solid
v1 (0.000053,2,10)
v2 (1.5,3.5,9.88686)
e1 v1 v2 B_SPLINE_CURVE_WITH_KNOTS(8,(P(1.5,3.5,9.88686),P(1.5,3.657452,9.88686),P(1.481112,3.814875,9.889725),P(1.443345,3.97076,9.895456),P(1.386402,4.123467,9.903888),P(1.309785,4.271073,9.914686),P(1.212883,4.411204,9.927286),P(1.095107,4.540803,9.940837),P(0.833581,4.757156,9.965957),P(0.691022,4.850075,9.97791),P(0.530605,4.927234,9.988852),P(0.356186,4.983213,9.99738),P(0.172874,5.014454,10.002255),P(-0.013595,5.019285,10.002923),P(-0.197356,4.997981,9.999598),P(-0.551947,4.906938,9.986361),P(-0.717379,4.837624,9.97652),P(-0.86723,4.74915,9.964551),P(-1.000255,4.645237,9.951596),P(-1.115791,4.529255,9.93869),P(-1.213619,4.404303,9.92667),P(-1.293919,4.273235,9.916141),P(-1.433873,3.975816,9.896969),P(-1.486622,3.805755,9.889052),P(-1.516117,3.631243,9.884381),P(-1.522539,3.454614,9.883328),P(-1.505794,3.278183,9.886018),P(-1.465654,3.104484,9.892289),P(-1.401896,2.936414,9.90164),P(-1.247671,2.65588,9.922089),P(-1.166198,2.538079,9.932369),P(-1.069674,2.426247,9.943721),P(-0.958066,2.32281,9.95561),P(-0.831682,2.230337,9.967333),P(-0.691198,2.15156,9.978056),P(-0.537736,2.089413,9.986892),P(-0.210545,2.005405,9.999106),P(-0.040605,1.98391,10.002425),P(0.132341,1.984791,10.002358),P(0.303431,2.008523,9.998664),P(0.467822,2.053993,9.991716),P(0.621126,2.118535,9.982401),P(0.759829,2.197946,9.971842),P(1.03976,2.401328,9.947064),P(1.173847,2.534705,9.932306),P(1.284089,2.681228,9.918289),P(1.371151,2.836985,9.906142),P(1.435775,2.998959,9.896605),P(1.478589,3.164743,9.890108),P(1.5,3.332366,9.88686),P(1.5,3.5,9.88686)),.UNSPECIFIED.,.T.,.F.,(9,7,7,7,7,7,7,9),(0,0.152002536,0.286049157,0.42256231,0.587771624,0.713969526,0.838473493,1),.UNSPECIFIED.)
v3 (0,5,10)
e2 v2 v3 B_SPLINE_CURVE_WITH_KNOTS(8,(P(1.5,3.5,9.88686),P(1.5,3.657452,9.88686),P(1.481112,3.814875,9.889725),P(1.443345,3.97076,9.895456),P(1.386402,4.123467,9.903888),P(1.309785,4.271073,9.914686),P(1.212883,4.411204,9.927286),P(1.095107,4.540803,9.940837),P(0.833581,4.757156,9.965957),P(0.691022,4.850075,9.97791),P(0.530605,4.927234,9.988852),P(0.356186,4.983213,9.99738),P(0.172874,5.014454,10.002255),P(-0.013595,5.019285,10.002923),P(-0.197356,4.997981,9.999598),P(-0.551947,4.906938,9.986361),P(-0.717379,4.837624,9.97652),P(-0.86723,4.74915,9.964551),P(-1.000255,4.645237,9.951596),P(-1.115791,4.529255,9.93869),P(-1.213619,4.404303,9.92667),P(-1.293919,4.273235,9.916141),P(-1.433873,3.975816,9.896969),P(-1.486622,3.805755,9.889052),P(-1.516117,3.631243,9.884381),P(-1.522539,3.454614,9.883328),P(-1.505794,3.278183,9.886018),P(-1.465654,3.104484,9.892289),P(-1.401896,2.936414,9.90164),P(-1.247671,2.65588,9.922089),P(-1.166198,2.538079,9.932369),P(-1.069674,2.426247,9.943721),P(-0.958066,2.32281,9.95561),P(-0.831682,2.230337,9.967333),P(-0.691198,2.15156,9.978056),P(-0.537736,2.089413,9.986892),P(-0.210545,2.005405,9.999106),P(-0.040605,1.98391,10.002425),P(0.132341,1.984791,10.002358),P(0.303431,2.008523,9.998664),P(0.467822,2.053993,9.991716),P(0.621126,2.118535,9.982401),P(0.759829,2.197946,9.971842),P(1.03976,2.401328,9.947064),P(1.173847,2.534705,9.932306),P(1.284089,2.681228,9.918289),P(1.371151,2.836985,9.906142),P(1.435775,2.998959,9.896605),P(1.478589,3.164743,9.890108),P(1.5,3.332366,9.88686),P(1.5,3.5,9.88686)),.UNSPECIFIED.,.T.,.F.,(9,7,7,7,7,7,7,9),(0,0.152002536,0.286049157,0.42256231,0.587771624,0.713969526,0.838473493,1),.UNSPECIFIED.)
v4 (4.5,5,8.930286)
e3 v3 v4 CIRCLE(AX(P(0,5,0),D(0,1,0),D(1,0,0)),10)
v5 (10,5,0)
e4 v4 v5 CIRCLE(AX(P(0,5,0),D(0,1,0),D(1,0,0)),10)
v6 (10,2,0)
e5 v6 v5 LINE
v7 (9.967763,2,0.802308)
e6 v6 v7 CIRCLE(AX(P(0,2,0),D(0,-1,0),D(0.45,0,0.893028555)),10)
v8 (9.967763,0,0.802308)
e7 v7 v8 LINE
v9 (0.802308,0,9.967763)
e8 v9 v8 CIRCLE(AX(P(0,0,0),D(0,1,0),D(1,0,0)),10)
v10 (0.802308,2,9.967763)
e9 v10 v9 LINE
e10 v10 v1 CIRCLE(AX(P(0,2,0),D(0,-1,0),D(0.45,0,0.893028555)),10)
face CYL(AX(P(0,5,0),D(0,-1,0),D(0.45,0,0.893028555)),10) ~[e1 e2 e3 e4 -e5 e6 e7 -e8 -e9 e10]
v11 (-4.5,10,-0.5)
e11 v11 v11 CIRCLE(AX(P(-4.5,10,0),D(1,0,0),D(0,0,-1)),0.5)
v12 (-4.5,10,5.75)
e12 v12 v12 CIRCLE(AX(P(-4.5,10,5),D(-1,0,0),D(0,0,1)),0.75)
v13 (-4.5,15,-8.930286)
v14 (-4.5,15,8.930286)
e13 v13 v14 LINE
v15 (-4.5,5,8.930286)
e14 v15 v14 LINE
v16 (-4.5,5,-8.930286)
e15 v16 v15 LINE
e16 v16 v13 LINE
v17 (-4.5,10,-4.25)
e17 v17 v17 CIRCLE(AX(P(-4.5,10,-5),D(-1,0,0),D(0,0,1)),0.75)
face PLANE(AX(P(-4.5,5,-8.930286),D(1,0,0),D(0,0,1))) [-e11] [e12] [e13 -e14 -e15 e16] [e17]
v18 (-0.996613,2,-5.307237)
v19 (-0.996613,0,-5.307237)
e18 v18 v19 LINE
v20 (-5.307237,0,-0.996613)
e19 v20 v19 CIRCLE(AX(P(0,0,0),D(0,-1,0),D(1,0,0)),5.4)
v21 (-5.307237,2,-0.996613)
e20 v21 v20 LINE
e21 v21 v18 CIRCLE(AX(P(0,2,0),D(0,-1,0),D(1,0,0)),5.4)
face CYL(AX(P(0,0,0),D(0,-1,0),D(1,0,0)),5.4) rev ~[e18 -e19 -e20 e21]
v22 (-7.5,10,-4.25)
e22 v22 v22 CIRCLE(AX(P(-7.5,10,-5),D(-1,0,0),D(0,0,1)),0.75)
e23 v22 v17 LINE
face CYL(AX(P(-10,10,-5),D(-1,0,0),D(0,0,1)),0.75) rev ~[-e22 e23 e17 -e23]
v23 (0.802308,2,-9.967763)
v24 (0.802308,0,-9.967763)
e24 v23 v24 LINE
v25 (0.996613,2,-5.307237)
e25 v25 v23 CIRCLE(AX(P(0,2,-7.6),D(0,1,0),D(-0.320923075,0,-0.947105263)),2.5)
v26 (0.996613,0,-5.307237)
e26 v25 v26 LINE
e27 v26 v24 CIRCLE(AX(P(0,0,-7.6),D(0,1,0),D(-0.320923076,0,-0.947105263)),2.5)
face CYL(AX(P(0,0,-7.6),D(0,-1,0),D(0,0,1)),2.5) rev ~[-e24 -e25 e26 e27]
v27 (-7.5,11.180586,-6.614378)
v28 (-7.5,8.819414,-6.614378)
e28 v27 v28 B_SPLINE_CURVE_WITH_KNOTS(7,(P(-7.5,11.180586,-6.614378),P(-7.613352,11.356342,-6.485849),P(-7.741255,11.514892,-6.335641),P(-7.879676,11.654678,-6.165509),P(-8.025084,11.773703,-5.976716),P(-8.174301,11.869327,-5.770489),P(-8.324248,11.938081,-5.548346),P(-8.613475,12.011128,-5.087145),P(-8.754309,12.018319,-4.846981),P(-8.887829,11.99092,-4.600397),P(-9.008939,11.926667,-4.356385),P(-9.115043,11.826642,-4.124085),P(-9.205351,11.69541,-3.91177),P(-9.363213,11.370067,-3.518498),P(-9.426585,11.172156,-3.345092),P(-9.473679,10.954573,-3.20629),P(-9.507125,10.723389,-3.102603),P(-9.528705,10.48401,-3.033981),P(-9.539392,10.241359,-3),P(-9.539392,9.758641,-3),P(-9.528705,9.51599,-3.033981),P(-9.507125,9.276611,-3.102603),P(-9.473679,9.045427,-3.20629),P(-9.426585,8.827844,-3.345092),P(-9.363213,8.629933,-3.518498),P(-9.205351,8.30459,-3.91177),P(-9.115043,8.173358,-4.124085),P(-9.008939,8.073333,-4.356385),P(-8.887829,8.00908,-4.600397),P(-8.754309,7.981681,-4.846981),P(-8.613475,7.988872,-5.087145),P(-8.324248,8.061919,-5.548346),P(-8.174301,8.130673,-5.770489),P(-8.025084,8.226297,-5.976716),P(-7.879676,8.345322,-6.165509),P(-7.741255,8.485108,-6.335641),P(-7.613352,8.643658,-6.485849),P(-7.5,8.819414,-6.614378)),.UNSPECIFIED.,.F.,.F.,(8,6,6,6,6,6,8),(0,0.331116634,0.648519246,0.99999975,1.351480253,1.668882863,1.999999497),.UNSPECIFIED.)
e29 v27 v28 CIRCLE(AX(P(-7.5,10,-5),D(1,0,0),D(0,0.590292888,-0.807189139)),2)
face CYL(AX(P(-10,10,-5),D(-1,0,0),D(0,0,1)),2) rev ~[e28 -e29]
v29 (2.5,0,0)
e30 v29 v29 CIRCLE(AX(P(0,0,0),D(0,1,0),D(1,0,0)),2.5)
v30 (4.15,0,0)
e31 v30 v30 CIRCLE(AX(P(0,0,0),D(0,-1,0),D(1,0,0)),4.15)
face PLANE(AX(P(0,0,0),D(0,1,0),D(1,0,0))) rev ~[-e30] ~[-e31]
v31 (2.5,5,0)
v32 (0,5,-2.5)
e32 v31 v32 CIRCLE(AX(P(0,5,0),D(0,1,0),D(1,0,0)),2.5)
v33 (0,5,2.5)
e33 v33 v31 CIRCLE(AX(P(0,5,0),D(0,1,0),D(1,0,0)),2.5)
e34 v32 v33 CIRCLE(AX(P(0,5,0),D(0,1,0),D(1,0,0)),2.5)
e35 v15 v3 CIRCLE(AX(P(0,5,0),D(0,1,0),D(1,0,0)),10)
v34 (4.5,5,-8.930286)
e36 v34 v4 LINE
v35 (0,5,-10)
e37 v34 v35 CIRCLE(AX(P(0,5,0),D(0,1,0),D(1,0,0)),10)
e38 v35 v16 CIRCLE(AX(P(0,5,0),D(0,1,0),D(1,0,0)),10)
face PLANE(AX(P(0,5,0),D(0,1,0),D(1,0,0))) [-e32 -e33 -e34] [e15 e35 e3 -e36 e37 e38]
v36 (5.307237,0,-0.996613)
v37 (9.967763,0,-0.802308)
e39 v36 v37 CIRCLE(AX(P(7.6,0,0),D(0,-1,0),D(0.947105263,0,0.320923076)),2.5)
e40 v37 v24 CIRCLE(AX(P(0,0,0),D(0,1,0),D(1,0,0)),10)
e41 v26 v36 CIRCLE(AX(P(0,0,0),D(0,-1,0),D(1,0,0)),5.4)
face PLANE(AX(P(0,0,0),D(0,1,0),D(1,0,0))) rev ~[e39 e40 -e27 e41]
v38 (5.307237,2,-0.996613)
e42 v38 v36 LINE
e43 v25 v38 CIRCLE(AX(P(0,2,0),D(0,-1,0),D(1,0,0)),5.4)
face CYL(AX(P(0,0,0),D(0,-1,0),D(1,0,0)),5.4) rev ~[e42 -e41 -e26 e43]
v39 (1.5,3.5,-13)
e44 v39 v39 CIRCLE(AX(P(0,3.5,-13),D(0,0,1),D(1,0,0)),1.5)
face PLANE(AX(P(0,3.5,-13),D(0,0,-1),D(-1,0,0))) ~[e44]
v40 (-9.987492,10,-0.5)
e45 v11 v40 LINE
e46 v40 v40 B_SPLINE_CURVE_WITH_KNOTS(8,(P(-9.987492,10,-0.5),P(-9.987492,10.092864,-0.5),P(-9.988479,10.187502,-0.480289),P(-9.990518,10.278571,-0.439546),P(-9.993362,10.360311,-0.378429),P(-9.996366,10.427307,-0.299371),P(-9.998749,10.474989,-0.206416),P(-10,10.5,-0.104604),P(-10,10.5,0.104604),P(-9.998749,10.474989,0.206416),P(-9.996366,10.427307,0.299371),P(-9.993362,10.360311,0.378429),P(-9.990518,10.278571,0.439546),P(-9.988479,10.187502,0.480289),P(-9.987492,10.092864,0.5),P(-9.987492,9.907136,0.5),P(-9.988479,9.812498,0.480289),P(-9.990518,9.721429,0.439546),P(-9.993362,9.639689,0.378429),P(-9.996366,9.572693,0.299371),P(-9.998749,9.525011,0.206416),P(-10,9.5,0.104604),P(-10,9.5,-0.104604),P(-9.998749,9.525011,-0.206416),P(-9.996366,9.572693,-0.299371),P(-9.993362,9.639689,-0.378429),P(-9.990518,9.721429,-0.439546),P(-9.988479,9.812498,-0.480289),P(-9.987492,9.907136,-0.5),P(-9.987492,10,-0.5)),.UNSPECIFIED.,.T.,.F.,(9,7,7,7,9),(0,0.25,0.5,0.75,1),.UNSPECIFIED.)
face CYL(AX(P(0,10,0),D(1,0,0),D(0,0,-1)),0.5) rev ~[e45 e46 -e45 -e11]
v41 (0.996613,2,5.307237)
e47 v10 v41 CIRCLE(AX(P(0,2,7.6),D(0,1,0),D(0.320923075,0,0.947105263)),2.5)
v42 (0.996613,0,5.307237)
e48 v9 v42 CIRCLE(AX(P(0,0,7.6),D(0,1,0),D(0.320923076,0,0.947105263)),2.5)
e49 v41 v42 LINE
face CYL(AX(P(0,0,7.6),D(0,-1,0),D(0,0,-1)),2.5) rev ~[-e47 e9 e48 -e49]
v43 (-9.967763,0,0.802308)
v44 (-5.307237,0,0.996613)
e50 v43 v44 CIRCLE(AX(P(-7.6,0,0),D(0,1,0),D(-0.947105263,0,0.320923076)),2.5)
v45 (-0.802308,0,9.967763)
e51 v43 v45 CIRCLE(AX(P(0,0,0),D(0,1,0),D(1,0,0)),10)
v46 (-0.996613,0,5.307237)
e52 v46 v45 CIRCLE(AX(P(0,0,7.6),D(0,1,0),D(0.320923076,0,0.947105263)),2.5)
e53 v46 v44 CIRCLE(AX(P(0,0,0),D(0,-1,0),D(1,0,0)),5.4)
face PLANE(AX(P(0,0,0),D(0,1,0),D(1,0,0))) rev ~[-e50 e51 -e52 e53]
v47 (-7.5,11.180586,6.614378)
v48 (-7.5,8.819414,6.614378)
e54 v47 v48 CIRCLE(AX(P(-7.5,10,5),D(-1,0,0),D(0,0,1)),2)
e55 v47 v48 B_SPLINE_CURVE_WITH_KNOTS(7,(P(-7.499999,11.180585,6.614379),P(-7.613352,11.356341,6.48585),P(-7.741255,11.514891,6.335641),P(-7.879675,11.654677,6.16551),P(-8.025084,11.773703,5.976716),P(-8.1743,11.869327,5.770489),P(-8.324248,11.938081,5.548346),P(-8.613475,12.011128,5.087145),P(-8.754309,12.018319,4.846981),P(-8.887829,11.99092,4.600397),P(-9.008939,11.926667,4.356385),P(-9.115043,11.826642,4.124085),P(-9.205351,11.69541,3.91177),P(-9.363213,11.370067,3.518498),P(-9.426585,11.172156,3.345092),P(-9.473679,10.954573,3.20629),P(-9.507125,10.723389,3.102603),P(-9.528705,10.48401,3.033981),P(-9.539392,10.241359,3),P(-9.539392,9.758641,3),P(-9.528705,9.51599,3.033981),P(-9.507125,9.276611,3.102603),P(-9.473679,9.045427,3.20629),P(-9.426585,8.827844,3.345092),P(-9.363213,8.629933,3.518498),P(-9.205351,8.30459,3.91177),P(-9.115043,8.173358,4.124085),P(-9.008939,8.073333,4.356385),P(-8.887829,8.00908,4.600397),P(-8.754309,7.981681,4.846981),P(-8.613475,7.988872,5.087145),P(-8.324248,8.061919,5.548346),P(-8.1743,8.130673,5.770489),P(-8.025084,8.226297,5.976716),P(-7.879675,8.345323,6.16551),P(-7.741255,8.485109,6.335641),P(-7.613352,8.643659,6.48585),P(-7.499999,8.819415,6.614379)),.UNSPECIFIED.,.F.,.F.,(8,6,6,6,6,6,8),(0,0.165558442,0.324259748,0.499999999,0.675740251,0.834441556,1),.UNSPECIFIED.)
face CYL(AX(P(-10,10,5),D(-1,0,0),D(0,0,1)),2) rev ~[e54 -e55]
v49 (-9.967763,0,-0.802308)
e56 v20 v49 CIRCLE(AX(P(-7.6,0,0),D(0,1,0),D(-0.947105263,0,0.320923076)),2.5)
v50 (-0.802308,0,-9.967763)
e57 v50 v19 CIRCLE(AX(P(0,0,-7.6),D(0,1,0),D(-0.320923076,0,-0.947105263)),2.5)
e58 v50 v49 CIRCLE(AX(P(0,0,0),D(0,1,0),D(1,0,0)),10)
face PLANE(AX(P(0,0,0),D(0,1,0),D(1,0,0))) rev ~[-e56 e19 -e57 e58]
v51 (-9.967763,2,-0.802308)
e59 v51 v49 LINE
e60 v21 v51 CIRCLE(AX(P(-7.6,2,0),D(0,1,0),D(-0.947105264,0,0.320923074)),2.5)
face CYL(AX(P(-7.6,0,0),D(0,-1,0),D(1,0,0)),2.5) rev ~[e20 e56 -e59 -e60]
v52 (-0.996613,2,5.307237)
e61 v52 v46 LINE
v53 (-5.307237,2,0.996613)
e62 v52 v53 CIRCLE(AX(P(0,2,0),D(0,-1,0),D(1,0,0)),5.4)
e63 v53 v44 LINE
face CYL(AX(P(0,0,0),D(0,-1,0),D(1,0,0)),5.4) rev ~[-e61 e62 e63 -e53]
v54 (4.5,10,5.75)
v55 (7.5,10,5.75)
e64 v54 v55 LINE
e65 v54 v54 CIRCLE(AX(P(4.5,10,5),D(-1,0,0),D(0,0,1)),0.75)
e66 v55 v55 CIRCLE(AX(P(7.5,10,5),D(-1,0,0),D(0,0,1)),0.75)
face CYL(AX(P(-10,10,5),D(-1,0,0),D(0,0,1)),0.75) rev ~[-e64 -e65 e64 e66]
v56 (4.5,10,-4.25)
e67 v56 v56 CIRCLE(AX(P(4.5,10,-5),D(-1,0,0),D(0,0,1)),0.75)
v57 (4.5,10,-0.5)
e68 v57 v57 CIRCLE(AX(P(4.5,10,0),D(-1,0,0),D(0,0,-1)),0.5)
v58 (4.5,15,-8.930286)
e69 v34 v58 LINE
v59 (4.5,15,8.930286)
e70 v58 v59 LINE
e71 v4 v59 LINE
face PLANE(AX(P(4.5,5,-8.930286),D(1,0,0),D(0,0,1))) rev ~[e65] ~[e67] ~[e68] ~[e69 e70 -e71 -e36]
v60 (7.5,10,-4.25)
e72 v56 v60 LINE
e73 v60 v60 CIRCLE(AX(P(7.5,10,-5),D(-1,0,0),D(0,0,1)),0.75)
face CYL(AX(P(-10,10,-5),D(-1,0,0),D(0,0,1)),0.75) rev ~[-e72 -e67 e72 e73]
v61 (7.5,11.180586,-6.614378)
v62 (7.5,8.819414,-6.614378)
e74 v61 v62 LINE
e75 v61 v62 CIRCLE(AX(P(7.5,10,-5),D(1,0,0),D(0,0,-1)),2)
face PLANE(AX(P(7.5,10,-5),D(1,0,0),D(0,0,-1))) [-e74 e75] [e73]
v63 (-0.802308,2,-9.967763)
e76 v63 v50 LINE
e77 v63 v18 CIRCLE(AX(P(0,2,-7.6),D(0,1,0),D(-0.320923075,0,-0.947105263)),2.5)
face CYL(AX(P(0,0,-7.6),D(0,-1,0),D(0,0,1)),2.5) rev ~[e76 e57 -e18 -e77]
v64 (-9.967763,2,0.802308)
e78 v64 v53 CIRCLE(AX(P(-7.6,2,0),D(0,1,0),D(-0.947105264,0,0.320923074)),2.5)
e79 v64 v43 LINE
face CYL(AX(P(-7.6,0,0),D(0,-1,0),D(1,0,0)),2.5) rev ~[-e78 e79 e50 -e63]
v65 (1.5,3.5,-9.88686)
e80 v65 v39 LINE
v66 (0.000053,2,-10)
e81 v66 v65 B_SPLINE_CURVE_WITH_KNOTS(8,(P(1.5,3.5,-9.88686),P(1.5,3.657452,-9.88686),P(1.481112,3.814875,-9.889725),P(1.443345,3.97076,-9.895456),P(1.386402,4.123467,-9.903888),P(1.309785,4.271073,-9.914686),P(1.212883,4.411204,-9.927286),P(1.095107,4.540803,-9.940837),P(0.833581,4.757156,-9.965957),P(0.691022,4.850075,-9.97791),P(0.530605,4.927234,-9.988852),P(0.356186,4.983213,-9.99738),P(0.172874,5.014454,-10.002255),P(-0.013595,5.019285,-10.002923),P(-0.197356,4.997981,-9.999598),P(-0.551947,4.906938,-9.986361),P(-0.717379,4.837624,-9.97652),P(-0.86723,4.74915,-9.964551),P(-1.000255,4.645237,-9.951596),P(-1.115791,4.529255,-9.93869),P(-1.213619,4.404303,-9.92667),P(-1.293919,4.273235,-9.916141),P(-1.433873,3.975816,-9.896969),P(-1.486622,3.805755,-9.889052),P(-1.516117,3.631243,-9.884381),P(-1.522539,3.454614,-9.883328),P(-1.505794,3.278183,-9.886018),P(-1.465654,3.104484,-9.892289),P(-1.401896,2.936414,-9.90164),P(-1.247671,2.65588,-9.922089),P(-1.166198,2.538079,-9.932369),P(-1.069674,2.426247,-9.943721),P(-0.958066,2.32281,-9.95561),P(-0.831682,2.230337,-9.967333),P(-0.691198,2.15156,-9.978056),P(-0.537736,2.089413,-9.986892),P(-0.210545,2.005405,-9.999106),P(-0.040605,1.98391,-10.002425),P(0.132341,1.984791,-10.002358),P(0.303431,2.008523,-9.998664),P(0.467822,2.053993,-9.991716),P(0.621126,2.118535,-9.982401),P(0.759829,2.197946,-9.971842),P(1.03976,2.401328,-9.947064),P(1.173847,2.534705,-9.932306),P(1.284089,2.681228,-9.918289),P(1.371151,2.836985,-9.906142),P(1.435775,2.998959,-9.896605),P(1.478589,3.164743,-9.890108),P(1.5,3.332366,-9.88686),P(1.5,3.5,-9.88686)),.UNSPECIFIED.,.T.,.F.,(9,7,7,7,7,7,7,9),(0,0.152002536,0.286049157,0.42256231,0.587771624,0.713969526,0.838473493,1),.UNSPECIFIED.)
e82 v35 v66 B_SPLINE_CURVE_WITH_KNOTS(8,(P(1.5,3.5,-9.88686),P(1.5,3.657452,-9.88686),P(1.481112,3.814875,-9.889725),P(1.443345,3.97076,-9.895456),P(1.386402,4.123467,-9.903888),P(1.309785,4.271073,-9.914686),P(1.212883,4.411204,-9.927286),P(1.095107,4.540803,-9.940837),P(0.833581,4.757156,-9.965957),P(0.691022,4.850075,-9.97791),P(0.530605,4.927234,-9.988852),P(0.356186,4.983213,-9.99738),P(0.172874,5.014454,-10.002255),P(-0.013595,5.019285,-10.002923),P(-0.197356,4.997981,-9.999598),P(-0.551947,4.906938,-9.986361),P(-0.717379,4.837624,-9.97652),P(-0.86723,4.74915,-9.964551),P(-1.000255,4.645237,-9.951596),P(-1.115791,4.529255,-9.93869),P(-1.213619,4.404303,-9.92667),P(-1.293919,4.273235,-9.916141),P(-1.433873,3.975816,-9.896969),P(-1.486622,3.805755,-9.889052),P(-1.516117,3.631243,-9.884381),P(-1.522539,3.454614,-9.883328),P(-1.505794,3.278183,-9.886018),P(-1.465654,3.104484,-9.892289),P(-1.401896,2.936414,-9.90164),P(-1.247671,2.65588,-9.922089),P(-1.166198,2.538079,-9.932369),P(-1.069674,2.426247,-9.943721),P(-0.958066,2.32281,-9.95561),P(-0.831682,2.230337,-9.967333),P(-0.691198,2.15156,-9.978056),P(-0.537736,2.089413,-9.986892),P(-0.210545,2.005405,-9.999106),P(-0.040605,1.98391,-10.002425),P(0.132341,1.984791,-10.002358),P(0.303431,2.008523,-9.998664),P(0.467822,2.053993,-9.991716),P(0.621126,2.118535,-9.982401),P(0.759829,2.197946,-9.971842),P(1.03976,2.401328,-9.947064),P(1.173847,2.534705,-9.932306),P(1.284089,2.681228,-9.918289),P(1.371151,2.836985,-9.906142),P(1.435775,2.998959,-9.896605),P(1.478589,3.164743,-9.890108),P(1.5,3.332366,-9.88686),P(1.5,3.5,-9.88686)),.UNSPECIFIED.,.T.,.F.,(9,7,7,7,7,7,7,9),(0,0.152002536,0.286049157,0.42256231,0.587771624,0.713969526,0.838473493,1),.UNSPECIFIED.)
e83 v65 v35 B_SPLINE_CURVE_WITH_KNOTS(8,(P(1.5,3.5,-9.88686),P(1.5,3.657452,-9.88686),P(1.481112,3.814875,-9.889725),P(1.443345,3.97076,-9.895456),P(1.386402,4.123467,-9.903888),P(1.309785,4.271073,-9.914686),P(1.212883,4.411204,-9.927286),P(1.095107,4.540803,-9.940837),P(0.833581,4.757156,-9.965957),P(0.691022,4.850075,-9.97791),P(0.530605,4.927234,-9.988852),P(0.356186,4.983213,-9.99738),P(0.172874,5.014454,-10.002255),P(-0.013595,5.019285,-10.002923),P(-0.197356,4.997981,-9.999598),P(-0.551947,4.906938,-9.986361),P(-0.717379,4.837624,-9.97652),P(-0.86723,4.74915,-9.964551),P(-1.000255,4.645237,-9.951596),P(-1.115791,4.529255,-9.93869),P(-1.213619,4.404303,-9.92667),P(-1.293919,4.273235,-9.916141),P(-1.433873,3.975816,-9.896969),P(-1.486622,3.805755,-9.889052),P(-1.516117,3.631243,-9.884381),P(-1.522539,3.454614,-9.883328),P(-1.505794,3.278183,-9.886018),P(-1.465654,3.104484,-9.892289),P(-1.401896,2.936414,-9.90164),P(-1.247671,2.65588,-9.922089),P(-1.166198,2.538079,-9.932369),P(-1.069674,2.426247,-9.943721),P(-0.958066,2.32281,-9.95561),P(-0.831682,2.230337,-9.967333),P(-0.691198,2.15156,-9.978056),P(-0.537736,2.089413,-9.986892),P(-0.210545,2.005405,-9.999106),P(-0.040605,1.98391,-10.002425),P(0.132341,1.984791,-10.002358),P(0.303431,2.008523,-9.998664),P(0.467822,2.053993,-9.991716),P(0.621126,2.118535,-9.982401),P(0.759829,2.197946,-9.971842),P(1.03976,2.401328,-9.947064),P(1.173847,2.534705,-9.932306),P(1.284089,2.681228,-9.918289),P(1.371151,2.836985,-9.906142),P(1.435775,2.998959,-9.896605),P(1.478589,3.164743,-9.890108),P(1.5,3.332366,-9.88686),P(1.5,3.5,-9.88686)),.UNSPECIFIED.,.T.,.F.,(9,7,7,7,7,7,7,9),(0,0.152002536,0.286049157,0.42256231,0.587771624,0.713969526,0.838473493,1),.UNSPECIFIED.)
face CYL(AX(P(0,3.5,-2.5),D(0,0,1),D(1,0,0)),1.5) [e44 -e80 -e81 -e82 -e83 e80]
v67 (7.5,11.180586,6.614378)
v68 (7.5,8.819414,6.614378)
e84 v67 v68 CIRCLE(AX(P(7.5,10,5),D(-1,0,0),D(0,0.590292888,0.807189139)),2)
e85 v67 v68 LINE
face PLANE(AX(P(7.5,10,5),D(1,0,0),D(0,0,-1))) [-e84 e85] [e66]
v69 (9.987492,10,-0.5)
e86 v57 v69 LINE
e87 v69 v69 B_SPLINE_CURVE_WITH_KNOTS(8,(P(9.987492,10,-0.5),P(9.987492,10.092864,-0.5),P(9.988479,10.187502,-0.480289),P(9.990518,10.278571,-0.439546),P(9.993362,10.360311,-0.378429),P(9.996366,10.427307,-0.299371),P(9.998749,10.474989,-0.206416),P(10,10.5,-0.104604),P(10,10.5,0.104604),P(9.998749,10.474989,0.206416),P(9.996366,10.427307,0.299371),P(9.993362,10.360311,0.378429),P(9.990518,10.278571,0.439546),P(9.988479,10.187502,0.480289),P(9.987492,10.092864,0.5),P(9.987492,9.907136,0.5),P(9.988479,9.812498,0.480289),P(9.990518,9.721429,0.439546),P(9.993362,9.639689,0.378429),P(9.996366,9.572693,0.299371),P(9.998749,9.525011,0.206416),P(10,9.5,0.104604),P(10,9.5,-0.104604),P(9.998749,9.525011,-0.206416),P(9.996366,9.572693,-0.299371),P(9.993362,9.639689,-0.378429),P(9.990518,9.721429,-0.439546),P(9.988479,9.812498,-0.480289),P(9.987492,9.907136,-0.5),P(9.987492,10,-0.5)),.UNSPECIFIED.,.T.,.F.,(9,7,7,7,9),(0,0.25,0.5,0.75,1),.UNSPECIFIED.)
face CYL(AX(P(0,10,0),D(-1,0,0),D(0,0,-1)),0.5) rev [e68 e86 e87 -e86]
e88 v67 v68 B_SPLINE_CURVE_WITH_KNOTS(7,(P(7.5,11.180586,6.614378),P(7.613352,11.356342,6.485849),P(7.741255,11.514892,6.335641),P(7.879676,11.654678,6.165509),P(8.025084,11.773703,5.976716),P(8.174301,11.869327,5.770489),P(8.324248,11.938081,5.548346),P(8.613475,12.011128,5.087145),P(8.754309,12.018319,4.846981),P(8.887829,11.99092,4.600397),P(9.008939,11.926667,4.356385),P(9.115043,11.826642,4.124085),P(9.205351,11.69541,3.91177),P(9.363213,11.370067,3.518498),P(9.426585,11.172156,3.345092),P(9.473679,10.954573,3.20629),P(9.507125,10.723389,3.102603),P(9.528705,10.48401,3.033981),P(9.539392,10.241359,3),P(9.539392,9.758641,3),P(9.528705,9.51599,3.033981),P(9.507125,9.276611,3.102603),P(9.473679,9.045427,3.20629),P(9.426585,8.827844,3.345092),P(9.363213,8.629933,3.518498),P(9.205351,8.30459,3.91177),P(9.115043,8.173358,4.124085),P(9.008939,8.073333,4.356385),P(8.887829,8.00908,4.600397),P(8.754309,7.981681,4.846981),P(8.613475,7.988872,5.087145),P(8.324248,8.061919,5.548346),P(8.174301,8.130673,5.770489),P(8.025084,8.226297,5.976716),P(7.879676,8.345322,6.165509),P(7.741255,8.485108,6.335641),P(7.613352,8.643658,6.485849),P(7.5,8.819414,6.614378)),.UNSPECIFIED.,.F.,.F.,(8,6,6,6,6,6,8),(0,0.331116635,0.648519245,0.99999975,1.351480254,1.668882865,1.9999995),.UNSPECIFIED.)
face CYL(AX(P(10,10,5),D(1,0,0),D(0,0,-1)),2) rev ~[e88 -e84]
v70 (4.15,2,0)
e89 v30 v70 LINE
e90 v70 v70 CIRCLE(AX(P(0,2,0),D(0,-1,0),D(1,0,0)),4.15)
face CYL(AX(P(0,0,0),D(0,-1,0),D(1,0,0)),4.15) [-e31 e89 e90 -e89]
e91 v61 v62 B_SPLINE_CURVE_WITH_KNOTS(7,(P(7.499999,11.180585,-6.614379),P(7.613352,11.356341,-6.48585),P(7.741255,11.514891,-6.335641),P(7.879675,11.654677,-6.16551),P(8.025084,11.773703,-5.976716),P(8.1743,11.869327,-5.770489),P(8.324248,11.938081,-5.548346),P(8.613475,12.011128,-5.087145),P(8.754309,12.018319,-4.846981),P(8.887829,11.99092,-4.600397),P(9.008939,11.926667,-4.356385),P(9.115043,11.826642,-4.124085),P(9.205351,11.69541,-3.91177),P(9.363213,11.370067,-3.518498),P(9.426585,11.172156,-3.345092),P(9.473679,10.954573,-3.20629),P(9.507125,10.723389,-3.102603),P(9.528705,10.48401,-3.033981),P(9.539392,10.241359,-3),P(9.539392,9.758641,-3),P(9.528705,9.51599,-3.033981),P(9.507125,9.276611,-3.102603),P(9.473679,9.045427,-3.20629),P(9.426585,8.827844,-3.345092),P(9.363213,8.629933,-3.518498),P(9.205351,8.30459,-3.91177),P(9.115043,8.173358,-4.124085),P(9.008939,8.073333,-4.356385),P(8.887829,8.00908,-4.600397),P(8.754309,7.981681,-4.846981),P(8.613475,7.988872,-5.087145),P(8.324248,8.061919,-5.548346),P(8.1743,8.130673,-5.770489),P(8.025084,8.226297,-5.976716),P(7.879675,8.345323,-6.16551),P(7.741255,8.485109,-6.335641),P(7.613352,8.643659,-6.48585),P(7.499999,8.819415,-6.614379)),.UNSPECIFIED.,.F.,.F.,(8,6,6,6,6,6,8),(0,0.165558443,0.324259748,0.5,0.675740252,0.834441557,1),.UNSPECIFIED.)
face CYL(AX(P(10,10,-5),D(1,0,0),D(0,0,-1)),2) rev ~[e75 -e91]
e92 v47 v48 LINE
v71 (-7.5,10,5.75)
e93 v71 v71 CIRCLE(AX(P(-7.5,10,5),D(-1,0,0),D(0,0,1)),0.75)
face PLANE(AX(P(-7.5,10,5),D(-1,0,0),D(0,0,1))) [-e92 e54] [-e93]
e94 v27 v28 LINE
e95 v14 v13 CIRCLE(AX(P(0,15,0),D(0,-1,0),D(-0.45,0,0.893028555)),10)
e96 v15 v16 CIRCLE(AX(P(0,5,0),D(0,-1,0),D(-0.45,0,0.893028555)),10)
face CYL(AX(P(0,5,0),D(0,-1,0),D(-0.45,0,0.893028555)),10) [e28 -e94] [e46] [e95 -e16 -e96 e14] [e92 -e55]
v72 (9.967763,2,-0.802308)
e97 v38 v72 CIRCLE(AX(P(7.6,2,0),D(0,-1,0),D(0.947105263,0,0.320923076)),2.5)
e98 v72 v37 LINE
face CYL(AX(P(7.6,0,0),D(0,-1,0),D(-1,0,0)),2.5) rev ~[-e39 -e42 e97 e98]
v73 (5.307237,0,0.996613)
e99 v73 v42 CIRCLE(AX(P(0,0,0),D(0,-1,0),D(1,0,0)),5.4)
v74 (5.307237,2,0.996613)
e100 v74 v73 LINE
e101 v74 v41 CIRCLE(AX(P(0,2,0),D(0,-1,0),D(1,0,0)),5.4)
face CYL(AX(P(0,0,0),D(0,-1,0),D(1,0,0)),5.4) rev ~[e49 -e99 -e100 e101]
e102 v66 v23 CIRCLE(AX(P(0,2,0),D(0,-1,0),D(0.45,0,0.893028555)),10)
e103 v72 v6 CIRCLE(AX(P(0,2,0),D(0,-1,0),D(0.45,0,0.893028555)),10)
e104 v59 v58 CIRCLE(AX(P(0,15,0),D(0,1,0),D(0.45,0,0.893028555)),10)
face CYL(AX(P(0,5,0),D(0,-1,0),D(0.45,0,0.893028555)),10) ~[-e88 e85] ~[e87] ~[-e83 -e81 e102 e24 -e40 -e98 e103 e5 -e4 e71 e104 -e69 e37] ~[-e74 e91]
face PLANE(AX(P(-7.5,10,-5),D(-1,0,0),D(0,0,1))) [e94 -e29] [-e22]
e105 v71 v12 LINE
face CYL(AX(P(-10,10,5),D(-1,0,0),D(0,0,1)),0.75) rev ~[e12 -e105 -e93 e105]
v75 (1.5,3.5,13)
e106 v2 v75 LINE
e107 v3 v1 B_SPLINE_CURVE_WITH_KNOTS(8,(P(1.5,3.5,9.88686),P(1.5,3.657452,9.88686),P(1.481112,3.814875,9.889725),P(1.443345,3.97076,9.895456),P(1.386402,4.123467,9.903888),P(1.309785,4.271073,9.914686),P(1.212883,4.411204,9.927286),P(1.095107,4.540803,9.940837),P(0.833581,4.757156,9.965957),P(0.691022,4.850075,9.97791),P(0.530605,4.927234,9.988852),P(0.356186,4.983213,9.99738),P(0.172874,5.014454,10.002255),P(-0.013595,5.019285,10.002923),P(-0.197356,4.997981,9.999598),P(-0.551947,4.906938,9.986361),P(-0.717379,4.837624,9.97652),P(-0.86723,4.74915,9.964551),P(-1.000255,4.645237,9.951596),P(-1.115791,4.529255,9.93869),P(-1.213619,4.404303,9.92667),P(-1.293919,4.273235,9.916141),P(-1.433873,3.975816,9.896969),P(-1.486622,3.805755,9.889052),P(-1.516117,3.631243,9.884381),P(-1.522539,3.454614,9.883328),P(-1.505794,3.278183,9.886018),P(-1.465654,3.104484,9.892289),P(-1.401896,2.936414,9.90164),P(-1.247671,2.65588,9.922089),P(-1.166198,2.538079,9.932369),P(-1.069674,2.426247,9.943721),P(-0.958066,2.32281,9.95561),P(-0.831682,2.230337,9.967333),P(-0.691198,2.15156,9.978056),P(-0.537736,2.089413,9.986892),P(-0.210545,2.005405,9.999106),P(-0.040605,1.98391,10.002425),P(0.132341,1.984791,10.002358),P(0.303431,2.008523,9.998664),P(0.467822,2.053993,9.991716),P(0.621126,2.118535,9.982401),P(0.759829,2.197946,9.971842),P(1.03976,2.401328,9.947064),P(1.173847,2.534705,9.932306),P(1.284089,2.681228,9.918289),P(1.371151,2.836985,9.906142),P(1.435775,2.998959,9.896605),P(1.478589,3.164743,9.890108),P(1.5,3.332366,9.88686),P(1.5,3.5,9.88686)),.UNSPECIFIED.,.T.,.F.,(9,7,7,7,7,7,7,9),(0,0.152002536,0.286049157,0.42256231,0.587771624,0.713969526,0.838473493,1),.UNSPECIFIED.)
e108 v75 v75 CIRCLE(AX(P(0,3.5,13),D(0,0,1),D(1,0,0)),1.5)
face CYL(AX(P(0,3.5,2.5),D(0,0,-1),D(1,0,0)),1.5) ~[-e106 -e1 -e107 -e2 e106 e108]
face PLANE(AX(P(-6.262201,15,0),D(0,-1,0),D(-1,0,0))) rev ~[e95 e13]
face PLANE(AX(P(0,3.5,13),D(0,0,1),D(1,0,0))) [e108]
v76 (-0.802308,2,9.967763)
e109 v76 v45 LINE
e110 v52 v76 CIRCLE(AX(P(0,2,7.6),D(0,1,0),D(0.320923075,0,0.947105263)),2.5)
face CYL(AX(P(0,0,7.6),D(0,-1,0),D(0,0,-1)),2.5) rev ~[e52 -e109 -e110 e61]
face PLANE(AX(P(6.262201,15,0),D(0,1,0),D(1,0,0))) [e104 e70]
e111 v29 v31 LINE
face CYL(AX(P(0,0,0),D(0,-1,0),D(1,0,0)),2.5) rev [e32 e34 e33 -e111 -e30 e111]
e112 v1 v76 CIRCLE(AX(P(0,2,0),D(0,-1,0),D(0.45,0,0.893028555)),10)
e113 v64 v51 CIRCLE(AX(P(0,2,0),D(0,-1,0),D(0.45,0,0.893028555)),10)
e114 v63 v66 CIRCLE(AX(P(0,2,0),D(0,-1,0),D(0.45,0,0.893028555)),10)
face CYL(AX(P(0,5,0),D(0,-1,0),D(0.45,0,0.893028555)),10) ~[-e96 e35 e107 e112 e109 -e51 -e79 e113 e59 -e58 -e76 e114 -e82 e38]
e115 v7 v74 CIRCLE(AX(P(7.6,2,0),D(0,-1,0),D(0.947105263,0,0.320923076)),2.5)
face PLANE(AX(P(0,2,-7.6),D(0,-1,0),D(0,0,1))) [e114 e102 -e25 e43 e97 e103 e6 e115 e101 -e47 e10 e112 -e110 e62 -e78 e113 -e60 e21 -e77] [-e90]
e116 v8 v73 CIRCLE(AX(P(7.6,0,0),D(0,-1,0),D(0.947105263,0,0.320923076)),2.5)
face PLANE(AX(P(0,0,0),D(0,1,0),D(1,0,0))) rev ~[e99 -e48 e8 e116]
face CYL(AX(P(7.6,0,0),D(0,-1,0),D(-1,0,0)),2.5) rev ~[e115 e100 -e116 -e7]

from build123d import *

# Parameters (mm, degrees)
SKETCH1_R                      = 10
SKETCH1_R_2                    = 2.5
BOSS_EXTRUDE1_DEPTH            = 5
BOSS_EXTRUDE4_DEPTH            = 10
SKETCH6_R                      = 0.75
CUT_EXTRUDE3_DEPTH             = 21
SKETCH7_R                      = 2
CUT_EXTRUDE4_DEPTH             = 2.5
SKETCH8_R                      = 2
CUT_EXTRUDE5_DEPTH             = 2.5
BOSS_EXTRUDE5_START            = -7.5
SKETCH10_R                     = 1.5
BOSS_EXTRUDE5_DEPTH            = 10.5
CUT_EXTRUDE6_REACH             = 12
SKETCH11_R                     = 0.5
CUT_EXTRUDE6_DIRECTION_2_REACH = 12
SKETCH12_R                     = 2.5
CUT_EXTRUDE7_DEPTH             = 2
CIRPATTERN1_COUNT              = 4
SKETCH13_R                     = 5.4
SKETCH13_R_2                   = 4.15
CUT_EXTRUDE8_DEPTH             = 2


with BuildPart() as part:
    # Sketch1 → Boss-Extrude1 (new body)
    with BuildSketch(Plane(origin=(0, 0, 0), x_dir=(1, 0, 0), z_dir=(0, 1, 0))):
        Circle(SKETCH1_R)
        Circle(SKETCH1_R_2, mode=Mode.SUBTRACT)
    extrude(amount=BOSS_EXTRUDE1_DEPTH)

    # Sketch5 → Boss-Extrude4 (add)
    with BuildSketch(Plane(origin=(0, 5, 0), x_dir=(1, 0, 0), z_dir=(0, 1, 0))):
        with BuildLine():
            Line((4.5, 8.93028555), (4.5, -8.93028555))
            ThreePointArc((4.5, -8.93028555), (10, 0), (4.5, 8.93028555))
        make_face()
        with BuildLine():
            Line((-4.5, 8.93028555), (-4.5, -8.93028555))
            ThreePointArc((-4.5, -8.93028555), (-10, 0), (-4.5, 8.93028555))
        make_face()
    extrude(amount=BOSS_EXTRUDE4_DEPTH)

    # Sketch6 → Cut-Extrude3 (cut, through all)
    with BuildSketch(Plane.ZY.offset(10)):
        with Locations((-5, 10)):
            Circle(SKETCH6_R)
        with Locations((5, 10)):
            Circle(SKETCH6_R)
    extrude(amount=-CUT_EXTRUDE3_DEPTH, mode=Mode.SUBTRACT)

    # Sketch7 → Cut-Extrude4 (cut)
    with BuildSketch(Plane.ZY.offset(10)):
        with Locations((-5, 10)):
            Circle(SKETCH7_R)
        with Locations((5, 10)):
            Circle(SKETCH7_R)
    extrude(amount=-CUT_EXTRUDE4_DEPTH, mode=Mode.SUBTRACT)

    # Sketch8 → Cut-Extrude5 (cut)
    with BuildSketch(Plane(origin=(10, 0, 0), x_dir=(0, 0, -1), z_dir=(1, 0, 0))):
        with Locations((-5, 10)):
            Circle(SKETCH8_R)
        with Locations((5, 10)):
            Circle(SKETCH8_R)
    extrude(amount=-CUT_EXTRUDE5_DEPTH, mode=Mode.SUBTRACT)

    # Sketch10 → Boss-Extrude5 (add)
    with BuildSketch(Plane.XY.offset(10).offset(BOSS_EXTRUDE5_START)):
        with Locations((0, 3.5)):
            Circle(SKETCH10_R)
    boss_extrude5 = extrude(amount=BOSS_EXTRUDE5_DEPTH)

    # Mirror1: Boss-Extrude5 across plane
    add(boss_extrude5.mirror(Plane.XY))

    # Sketch11 → Cut-Extrude6 (cut, up to next)
    with BuildSketch(Plane(origin=(0, 0, 0), x_dir=(0, 0, -1), z_dir=(1, 0, 0)), mode=Mode.PRIVATE) as cut_extrude6_sk1:
        with Locations((0, 10)):
            Circle(SKETCH11_R)
    cut_extrude6_tool1 = extrude(cut_extrude6_sk1.sketch, amount=-CUT_EXTRUDE6_REACH, mode=Mode.PRIVATE) & part.part
    add(cut_extrude6_tool1.solids().sort_by_distance((0, 10, 0))[0], mode=Mode.SUBTRACT)

    # Sketch11 → Cut-Extrude6 direction 2 (cut, up to next)
    with BuildSketch(Plane(origin=(0, 0, 0), x_dir=(0, 0, -1), z_dir=(1, 0, 0)), mode=Mode.PRIVATE) as cut_extrude6_direction_2_sk1:
        with Locations((0, 10)):
            Circle(SKETCH11_R)
    cut_extrude6_direction_2_tool1 = extrude(cut_extrude6_direction_2_sk1.sketch, amount=CUT_EXTRUDE6_DIRECTION_2_REACH, mode=Mode.PRIVATE) & part.part
    add(cut_extrude6_direction_2_tool1.solids().sort_by_distance((0, 10, 0))[0], mode=Mode.SUBTRACT)

    # Sketch12 → Cut-Extrude7 (cut)
    with BuildSketch(Plane.XZ):
        with Locations((-7.6, 0)):
            Circle(SKETCH12_R)
    cut_extrude7 = extrude(amount=-CUT_EXTRUDE7_DEPTH, mode=Mode.SUBTRACT)

    # CirPattern1: Cut-Extrude7 ×4 about axis
    cirpattern1_axis = Axis((0, 0, 0), (0, 1, 0))
    for i in range(1, CIRPATTERN1_COUNT):
        add(cut_extrude7.rotate(cirpattern1_axis, i * 360 / CIRPATTERN1_COUNT), mode=Mode.SUBTRACT)

    # Sketch13 → Cut-Extrude8 (cut)
    with BuildSketch(Plane.XZ):
        Circle(SKETCH13_R)
        Circle(SKETCH13_R_2, mode=Mode.SUBTRACT)
    extrude(amount=-CUT_EXTRUDE8_DEPTH, mode=Mode.SUBTRACT)


solid = part.part
